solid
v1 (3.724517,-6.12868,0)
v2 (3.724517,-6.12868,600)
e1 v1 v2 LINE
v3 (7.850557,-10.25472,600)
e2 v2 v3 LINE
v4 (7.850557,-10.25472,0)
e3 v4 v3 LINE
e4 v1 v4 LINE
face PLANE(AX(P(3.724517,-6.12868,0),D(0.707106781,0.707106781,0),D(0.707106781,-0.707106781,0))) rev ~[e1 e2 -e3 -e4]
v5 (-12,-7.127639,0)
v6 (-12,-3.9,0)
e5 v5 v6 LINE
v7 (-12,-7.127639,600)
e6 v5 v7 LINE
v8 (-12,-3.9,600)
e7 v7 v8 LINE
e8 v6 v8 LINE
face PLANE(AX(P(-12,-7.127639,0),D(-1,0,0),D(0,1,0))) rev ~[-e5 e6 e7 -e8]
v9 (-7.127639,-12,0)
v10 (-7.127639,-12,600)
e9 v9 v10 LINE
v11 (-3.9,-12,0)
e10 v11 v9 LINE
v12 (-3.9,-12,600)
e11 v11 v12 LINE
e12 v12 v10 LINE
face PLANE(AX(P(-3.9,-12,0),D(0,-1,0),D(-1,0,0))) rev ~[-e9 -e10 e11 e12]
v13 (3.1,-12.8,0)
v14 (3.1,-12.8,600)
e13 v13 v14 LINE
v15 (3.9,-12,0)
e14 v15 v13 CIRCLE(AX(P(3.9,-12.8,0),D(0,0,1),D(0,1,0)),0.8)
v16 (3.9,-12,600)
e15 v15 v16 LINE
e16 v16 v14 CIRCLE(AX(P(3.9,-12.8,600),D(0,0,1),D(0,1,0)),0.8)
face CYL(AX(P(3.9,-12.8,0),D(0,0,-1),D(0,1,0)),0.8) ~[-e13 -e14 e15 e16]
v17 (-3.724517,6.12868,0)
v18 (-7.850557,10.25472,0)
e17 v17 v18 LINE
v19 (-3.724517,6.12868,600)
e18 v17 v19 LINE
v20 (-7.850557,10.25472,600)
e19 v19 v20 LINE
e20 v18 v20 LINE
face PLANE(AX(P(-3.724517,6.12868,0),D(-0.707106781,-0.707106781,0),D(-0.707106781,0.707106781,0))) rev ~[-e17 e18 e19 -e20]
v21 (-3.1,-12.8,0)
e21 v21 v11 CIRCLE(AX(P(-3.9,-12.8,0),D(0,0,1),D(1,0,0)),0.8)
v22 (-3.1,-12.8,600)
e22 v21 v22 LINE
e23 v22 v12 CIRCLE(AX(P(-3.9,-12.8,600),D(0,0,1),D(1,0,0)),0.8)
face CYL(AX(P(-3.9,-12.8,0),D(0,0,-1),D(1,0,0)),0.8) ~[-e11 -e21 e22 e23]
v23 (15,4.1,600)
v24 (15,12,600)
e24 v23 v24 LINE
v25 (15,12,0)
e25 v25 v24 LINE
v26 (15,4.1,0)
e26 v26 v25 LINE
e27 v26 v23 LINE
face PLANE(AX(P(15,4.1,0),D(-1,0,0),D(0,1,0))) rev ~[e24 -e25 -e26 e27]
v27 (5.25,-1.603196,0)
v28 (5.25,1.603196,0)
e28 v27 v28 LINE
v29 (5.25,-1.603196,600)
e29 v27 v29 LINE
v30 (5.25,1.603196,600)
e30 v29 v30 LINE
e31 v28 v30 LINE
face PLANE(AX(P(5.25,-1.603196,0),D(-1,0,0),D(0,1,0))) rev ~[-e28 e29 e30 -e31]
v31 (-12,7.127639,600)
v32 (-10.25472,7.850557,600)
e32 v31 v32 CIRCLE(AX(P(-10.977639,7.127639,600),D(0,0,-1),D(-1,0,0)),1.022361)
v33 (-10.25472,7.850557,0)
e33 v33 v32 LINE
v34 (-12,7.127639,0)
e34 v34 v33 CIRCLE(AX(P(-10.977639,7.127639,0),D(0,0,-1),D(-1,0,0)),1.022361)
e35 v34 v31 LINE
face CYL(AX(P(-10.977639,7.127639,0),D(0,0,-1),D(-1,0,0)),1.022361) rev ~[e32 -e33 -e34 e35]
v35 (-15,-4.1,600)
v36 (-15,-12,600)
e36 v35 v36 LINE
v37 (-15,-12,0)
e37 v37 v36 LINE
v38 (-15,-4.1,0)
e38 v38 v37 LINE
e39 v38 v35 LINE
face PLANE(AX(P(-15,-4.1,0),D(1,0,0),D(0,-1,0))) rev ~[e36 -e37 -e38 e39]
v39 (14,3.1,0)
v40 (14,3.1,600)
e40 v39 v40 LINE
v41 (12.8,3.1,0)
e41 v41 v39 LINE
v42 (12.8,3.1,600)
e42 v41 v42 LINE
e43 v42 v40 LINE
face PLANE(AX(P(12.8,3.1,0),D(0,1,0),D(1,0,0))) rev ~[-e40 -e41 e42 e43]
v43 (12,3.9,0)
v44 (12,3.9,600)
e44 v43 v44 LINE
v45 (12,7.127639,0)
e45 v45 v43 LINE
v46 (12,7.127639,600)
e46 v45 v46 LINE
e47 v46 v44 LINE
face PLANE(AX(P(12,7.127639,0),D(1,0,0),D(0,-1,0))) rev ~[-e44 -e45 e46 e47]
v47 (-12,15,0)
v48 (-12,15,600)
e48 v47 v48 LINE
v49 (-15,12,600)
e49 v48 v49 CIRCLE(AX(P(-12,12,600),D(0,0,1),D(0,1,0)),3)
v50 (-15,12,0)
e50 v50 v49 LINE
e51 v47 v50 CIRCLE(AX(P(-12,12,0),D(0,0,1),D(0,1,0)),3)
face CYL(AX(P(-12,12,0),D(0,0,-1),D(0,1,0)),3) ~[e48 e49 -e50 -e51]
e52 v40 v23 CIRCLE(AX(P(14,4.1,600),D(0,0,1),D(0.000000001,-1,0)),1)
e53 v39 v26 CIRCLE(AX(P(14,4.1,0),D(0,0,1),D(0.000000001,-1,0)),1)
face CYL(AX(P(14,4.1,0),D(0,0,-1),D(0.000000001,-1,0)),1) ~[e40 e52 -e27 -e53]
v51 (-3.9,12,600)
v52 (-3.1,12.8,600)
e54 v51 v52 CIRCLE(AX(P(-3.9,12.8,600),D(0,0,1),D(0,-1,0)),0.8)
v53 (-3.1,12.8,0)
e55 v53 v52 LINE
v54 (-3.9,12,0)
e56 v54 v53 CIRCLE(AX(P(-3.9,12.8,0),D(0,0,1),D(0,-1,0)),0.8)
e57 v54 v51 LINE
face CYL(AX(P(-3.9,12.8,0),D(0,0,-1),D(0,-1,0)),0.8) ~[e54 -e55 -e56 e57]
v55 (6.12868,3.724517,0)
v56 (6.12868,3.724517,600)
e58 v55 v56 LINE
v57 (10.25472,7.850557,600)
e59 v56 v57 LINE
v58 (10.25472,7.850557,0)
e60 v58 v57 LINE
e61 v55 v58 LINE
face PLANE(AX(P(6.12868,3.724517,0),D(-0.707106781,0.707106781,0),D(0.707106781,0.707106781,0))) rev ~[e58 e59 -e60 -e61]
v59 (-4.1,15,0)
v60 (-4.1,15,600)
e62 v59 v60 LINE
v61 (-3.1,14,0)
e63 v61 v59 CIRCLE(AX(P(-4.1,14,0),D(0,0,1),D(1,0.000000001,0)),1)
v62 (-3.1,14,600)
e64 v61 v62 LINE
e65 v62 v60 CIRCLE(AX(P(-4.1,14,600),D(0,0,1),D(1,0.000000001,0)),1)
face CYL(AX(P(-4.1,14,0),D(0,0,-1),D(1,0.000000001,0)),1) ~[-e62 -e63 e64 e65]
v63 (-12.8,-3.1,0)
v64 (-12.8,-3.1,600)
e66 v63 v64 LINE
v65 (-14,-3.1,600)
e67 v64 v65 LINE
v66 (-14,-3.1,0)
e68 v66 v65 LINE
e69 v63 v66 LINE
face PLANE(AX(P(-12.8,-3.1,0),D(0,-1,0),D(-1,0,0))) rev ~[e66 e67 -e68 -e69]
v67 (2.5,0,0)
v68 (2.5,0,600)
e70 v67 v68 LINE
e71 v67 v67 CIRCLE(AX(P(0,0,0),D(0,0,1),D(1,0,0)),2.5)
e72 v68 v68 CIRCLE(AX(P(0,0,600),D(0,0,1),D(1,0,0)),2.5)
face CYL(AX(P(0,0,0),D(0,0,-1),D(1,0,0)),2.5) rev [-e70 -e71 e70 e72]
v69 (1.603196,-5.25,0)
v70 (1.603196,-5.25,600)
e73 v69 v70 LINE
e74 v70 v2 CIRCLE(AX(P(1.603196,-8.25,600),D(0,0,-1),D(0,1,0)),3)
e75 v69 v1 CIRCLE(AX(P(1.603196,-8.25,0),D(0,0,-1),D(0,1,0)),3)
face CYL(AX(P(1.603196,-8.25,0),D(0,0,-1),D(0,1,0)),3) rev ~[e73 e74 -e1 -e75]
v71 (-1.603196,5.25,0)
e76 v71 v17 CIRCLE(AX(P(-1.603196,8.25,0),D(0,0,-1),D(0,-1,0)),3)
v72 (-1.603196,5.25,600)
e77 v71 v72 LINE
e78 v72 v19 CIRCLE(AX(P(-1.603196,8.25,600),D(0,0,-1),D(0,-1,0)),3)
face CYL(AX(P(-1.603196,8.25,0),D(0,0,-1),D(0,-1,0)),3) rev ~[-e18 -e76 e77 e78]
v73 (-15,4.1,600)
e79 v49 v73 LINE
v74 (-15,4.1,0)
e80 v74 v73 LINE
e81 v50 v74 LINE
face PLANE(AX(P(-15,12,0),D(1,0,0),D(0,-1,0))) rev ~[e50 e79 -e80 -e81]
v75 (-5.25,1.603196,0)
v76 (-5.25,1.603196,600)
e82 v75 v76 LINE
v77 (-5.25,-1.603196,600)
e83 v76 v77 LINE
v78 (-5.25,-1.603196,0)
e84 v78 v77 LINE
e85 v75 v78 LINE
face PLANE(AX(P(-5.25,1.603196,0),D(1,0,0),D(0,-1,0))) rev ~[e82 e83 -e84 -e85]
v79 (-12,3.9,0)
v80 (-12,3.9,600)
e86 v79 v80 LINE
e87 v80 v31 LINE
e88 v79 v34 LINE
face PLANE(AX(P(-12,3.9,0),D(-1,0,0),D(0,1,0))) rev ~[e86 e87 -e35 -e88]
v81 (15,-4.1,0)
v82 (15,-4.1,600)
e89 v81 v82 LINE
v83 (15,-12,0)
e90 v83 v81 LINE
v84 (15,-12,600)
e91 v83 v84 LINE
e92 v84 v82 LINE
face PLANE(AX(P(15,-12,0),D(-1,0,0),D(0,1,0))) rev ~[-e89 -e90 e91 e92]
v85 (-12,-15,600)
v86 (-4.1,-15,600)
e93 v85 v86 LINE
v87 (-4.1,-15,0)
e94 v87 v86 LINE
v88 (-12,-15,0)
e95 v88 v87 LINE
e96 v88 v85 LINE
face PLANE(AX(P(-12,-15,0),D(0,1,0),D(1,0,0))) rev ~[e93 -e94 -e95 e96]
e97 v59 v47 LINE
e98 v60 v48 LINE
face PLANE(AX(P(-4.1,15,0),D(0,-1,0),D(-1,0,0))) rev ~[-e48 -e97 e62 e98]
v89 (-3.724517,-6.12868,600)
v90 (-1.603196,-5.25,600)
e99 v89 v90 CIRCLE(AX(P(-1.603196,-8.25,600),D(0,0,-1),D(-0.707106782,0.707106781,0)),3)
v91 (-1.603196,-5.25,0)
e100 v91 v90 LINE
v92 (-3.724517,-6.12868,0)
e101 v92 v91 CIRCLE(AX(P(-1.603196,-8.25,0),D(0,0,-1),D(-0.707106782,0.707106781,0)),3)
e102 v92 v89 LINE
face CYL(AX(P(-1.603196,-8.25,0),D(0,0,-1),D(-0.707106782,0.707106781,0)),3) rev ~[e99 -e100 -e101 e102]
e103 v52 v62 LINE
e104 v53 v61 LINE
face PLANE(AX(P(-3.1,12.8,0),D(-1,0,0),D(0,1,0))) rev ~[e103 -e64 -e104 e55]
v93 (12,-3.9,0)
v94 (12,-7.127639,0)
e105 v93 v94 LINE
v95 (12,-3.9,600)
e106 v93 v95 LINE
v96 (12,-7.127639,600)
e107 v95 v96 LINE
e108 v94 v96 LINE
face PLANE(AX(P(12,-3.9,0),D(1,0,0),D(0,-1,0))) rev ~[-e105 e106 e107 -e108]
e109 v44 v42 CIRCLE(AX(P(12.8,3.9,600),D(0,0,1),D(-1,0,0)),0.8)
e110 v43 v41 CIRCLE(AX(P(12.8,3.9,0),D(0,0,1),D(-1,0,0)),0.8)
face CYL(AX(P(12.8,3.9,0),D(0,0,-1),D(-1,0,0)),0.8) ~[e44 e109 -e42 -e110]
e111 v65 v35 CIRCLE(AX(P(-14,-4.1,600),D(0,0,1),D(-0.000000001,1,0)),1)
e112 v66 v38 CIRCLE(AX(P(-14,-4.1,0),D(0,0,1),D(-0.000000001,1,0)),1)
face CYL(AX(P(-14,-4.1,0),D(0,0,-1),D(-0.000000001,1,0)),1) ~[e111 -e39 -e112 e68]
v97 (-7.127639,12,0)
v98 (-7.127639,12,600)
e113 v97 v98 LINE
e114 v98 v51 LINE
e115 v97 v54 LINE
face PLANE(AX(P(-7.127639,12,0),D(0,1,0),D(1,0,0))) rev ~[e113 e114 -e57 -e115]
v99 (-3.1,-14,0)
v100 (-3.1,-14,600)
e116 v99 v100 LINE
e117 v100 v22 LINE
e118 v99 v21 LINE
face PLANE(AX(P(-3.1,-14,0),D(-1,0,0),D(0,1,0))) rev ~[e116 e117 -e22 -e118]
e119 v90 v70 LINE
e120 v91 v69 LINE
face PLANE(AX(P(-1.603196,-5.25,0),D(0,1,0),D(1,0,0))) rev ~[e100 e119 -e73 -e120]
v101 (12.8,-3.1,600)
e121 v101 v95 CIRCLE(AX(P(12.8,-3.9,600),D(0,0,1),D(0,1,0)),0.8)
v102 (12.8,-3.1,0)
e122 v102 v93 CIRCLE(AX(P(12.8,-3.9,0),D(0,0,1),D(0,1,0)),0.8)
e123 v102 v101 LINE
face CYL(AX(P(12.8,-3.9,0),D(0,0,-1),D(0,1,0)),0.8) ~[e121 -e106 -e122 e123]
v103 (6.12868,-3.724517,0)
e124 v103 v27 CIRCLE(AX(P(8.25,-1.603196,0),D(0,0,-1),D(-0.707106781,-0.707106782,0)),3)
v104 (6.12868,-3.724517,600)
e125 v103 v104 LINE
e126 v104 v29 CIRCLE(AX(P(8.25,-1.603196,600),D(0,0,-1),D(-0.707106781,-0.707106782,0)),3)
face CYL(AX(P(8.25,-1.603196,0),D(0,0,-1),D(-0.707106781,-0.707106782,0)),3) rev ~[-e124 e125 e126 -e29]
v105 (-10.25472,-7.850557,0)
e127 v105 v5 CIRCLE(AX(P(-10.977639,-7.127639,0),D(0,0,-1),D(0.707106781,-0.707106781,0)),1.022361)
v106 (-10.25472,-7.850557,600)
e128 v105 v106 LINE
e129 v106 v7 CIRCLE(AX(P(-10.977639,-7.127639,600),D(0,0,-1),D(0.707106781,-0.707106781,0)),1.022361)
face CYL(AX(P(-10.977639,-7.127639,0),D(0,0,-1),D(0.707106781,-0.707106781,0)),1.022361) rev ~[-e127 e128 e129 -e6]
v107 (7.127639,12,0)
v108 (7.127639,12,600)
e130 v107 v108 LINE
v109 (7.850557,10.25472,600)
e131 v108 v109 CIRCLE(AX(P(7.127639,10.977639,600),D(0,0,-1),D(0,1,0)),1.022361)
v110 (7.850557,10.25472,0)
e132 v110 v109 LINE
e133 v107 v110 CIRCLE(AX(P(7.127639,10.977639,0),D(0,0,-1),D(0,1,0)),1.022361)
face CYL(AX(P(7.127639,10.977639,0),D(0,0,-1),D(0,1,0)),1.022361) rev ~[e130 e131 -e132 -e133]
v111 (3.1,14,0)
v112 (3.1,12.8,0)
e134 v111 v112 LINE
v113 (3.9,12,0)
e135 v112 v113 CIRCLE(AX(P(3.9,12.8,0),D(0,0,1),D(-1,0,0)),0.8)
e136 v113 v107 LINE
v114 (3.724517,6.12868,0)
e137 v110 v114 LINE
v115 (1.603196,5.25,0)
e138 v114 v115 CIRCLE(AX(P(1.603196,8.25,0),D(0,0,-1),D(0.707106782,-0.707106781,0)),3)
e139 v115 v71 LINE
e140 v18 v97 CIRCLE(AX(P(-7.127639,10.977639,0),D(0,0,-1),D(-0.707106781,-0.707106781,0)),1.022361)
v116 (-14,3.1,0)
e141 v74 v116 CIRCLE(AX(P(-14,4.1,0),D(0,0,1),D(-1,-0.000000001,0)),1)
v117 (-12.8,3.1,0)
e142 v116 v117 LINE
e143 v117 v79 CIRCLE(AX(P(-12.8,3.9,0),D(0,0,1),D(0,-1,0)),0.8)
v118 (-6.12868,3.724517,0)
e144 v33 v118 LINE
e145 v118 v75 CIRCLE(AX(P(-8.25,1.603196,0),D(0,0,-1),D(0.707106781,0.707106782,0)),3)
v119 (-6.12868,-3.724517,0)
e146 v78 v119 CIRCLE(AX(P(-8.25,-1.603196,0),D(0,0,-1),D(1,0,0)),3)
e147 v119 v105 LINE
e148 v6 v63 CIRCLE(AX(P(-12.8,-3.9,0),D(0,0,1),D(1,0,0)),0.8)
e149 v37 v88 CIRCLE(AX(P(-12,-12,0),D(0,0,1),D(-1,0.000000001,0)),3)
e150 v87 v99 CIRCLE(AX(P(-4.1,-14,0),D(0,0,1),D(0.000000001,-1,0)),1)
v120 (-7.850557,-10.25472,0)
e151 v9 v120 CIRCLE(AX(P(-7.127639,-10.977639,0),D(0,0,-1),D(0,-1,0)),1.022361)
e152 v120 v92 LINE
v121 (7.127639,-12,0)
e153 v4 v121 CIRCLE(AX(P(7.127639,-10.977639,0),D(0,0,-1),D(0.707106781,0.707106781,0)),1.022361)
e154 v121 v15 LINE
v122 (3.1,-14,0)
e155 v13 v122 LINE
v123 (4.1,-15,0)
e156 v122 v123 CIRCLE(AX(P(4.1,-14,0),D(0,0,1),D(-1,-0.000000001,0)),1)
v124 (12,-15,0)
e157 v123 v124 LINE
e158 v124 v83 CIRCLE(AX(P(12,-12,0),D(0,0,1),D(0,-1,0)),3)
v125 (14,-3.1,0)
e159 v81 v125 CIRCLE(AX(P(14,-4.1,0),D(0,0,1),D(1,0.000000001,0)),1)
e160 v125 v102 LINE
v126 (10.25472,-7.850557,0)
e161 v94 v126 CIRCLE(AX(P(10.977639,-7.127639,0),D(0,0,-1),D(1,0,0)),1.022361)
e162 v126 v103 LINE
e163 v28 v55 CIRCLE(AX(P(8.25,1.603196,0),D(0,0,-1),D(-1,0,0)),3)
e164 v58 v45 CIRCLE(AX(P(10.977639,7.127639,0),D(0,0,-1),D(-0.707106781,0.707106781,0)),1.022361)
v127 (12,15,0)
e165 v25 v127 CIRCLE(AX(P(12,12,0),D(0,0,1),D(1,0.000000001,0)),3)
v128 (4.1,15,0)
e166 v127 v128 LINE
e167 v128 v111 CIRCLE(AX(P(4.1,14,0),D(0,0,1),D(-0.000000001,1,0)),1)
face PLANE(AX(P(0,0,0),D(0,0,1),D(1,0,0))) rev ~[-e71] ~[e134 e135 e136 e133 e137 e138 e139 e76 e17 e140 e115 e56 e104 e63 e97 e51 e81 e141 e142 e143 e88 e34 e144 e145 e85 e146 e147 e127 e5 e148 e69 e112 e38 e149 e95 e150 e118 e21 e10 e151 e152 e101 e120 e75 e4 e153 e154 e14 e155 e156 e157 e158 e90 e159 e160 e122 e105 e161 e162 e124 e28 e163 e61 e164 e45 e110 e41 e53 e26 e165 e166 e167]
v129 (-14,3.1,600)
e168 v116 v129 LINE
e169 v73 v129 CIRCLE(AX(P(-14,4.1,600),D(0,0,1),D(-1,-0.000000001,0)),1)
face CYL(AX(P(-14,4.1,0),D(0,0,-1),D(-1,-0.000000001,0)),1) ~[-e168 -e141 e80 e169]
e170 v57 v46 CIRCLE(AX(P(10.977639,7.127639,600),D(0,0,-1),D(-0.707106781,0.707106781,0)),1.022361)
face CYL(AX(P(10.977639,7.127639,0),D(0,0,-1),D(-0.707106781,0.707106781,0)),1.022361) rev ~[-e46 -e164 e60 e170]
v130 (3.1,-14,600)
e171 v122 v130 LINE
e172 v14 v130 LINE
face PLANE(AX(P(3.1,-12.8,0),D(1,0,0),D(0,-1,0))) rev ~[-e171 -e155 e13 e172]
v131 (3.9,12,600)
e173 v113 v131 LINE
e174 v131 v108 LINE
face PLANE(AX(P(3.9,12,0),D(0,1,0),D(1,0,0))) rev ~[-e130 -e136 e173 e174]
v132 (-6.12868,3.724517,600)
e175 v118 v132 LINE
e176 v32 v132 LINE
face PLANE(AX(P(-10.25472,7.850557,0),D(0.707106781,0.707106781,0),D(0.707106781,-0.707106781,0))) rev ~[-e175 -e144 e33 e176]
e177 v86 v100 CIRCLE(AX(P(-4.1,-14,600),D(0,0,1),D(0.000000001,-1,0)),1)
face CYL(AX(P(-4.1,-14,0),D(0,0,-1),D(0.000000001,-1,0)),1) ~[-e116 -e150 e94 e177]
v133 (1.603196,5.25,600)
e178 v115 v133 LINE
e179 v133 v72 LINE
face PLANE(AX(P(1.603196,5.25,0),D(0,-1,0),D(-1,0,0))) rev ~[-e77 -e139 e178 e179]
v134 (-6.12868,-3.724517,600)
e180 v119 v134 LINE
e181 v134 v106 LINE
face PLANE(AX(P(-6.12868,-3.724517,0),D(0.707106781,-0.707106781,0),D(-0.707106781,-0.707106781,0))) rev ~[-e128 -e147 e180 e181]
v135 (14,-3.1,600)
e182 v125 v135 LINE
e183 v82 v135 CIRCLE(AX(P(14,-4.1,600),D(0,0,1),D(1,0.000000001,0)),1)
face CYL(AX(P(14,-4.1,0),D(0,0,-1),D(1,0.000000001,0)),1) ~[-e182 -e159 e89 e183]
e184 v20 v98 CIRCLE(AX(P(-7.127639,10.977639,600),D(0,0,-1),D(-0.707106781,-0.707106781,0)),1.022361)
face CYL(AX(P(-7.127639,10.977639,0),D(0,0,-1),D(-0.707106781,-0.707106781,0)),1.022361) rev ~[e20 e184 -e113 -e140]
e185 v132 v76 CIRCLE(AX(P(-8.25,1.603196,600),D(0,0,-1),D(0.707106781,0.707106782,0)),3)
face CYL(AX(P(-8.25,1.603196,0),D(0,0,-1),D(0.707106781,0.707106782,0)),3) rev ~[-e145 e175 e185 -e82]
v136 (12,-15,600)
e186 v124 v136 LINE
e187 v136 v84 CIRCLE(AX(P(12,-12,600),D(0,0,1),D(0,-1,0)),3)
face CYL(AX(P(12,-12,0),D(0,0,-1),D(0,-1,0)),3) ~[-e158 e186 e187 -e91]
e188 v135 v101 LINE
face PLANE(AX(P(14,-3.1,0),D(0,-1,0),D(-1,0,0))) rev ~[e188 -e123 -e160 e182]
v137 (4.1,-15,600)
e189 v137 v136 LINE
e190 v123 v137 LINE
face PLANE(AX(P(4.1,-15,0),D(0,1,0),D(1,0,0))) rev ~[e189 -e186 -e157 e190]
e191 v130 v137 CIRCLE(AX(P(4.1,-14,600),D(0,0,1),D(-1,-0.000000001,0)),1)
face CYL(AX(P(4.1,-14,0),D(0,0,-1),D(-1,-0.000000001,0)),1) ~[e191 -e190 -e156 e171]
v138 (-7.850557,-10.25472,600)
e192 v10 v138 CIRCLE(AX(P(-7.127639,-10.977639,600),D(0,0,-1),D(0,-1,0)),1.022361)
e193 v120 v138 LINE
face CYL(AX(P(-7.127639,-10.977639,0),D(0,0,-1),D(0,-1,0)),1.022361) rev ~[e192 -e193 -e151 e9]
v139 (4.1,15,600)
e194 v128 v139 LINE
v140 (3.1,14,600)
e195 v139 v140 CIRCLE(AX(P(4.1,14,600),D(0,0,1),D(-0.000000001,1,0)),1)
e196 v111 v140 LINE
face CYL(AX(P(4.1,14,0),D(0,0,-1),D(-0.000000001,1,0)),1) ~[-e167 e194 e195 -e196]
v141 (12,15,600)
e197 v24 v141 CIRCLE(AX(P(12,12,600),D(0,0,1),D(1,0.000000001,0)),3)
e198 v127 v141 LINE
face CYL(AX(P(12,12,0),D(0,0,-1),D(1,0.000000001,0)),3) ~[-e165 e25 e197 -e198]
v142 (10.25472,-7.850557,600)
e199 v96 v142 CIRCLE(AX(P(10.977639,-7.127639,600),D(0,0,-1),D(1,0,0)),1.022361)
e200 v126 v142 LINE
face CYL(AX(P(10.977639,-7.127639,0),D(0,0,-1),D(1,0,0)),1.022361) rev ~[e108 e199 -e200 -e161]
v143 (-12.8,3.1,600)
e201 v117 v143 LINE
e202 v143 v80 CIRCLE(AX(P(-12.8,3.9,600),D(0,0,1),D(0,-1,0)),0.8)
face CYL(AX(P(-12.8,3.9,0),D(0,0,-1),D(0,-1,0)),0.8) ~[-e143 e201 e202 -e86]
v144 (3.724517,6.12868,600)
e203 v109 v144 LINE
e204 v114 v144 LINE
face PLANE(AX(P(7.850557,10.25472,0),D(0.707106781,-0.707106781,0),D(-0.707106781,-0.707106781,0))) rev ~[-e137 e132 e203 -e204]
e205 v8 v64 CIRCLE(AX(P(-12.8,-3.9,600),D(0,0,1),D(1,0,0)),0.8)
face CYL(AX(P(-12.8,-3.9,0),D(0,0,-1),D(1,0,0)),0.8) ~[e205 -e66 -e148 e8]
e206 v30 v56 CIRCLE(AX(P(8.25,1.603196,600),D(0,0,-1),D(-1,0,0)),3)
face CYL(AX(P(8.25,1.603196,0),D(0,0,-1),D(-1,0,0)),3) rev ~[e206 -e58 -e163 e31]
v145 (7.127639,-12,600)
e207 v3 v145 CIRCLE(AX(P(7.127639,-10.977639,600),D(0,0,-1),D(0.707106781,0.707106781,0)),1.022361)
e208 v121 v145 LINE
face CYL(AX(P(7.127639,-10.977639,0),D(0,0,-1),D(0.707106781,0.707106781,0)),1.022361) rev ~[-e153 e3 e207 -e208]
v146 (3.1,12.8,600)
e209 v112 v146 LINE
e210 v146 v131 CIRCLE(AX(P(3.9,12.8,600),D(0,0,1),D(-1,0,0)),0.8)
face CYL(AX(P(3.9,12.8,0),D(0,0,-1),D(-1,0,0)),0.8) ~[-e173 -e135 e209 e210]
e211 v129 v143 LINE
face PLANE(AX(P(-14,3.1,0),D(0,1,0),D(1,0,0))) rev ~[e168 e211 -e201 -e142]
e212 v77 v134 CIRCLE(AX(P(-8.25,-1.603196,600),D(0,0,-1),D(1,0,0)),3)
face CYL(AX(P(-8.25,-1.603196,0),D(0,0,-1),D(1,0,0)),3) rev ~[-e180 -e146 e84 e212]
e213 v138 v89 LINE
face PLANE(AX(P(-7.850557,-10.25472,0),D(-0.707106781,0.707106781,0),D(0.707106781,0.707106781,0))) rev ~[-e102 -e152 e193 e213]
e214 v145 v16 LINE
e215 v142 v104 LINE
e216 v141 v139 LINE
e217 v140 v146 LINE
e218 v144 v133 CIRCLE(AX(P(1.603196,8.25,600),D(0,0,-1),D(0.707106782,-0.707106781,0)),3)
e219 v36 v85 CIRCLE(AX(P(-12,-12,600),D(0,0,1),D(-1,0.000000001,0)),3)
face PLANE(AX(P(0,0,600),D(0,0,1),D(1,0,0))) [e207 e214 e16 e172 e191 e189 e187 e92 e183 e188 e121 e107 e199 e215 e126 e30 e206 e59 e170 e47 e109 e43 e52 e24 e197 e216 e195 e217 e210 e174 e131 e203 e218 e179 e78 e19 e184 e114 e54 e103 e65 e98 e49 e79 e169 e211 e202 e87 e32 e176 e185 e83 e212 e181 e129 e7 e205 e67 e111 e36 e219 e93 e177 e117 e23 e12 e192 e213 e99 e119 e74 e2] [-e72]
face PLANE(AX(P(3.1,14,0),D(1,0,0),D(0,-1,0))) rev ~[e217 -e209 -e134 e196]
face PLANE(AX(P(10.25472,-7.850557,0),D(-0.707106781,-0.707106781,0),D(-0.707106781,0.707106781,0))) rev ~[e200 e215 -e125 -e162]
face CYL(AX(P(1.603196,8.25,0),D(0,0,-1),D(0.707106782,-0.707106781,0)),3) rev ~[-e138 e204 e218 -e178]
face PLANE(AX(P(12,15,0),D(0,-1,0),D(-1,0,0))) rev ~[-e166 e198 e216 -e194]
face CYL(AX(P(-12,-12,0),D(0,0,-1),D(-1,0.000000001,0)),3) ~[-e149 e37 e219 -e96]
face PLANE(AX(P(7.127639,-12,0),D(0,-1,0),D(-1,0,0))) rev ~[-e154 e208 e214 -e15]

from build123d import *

# Parameters (mm, degrees)
BOSS_EXTRU_1_DEPTH = 600


with BuildPart() as part:
    # Esquisse1 → Boss.-Extru.1 (new body)
    with BuildSketch(Plane.XY):
        with BuildLine():
            Line((-5.250000005, 1.60319626), (-5.250000005, -1.60319626))
            ThreePointArc((-5.250000005, -1.60319626), (-5.478361407, -2.751246556), (-6.128679661, -3.724516602))
            Line((-6.128679661, -3.724516602), (-10.254720421, -7.850557362))
            ThreePointArc((-10.254720421, -7.850557362), (-11.36887955, -8.072177392), (-12, -7.12763889))
            Line((-12, -7.12763889), (-12, -3.9))
            ThreePointArc((-12, -3.9), (-12.234314575, -3.334314575), (-12.8, -3.1))
            Line((-12.8, -3.1), (-14, -3.1))
            ThreePointArc((-14, -3.1), (-14.707106781, -3.392893219), (-15, -4.1))
            Line((-15, -4.1), (-15, -12))
            ThreePointArc((-15, -12), (-14.121320344, -14.121320344), (-12, -15))
            Line((-12, -15), (-4.1, -15))
            ThreePointArc((-4.1, -15), (-3.392893219, -14.707106781), (-3.1, -14))
            Line((-3.1, -14), (-3.1, -12.8))
            ThreePointArc((-3.1, -12.8), (-3.334314575, -12.234314575), (-3.9, -12))
            Line((-3.9, -12), (-7.12763889, -12))
            ThreePointArc((-7.12763889, -12), (-8.072177392, -11.36887955), (-7.850557362, -10.254720421))
            Line((-7.850557362, -10.254720421), (-3.724516602, -6.128679661))
            ThreePointArc((-3.724516602, -6.128679661), (-2.751246556, -5.478361407), (-1.60319626, -5.250000005))
            Line((-1.60319626, -5.250000005), (1.60319626, -5.250000005))
            ThreePointArc((1.60319626, -5.250000005), (2.751246556, -5.478361407), (3.724516602, -6.128679661))
            Line((3.724516602, -6.128679661), (7.850557362, -10.254720421))
            ThreePointArc((7.850557362, -10.254720421), (8.072177392, -11.36887955), (7.12763889, -12))
            Line((7.12763889, -12), (3.9, -12))
            ThreePointArc((3.9, -12), (3.334314575, -12.234314575), (3.1, -12.8))
            Line((3.1, -12.8), (3.1, -14))
            ThreePointArc((3.1, -14), (3.392893219, -14.707106781), (4.1, -15))
            Line((4.1, -15), (12, -15))
            ThreePointArc((12, -15), (14.121320343, -14.121320344), (15, -12))
            Line((15, -12), (15, -4.1))
            ThreePointArc((15, -4.1), (14.707106781, -3.392893219), (14, -3.1))
            Line((14, -3.1), (12.8, -3.1))
            ThreePointArc((12.8, -3.1), (12.234314575, -3.334314575), (12, -3.9))
            Line((12, -3.9), (12, -7.12763889))
            ThreePointArc((12, -7.12763889), (11.36887955, -8.072177392), (10.254720421, -7.850557362))
            Line((10.254720421, -7.850557362), (6.128679661, -3.724516602))
            ThreePointArc((6.128679661, -3.724516602), (5.478361407, -2.751246556), (5.250000005, -1.60319626))
            Line((5.250000005, -1.60319626), (5.250000005, 1.60319626))
            ThreePointArc((5.250000005, 1.60319626), (5.478361407, 2.751246556), (6.128679661, 3.724516602))
            Line((6.128679661, 3.724516602), (10.254720421, 7.850557362))
            ThreePointArc((10.254720421, 7.850557362), (11.36887955, 8.072177392), (12, 7.12763889))
            Line((12, 7.12763889), (12, 3.9))
            ThreePointArc((12, 3.9), (12.234314575, 3.334314575), (12.8, 3.1))
            Line((12.8, 3.1), (14, 3.1))
            ThreePointArc((14, 3.1), (14.707106781, 3.392893219), (15, 4.1))
            Line((15, 4.1), (15, 12))
            ThreePointArc((15, 12), (14.121320343, 14.121320343), (12, 15))
            Line((12, 15), (4.1, 15))
            ThreePointArc((4.1, 15), (3.392893219, 14.707106781), (3.1, 14))
            Line((3.1, 14), (3.1, 12.8))
            ThreePointArc((3.1, 12.8), (3.334314575, 12.234314575), (3.9, 12))
            Line((3.9, 12), (7.12763889, 12))
            ThreePointArc((7.12763889, 12), (8.072177392, 11.36887955), (7.850557362, 10.254720421))
            Line((7.850557362, 10.254720421), (3.724516602, 6.128679661))
            ThreePointArc((3.724516602, 6.128679661), (2.751246556, 5.478361407), (1.60319626, 5.250000005))
            Line((1.60319626, 5.250000005), (-1.60319626, 5.250000005))
            ThreePointArc((-1.60319626, 5.250000005), (-2.751246556, 5.478361407), (-3.724516602, 6.128679661))
            Line((-3.724516602, 6.128679661), (-7.850557362, 10.254720421))
            ThreePointArc((-7.850557362, 10.254720421), (-8.072177392, 11.36887955), (-7.12763889, 12))
            Line((-7.12763889, 12), (-3.9, 12))
            ThreePointArc((-3.9, 12), (-3.334314575, 12.234314575), (-3.1, 12.8))
            Line((-3.1, 12.8), (-3.1, 14))
            ThreePointArc((-3.1, 14), (-3.392893219, 14.707106781), (-4.1, 15))
            Line((-4.1, 15), (-12, 15))
            ThreePointArc((-12, 15), (-14.121320344, 14.121320343), (-15, 12))
            Line((-15, 12), (-15, 4.1))
            ThreePointArc((-15, 4.1), (-14.707106781, 3.392893219), (-14, 3.1))
            Line((-14, 3.1), (-12.8, 3.1))
            ThreePointArc((-12.8, 3.1), (-12.234314575, 3.334314575), (-12, 3.9))
            Line((-12, 3.9), (-12, 7.12763889))
            ThreePointArc((-12, 7.12763889), (-11.36887955, 8.072177392), (-10.254720421, 7.850557362))
            Line((-10.254720421, 7.850557362), (-6.128679661, 3.724516602))
            ThreePointArc((-6.128679661, 3.724516602), (-5.478361407, 2.751246556), (-5.250000005, 1.60319626))
        make_face()
        with BuildLine():
            ThreePointArc((-2.5, 0), (0, -2.5), (2.5, 0))
            ThreePointArc((2.5, 0), (0, 2.5), (-2.5, 0))
        make_face(mode=Mode.SUBTRACT)
    extrude(amount=BOSS_EXTRU_1_DEPTH)


solid = part.part
